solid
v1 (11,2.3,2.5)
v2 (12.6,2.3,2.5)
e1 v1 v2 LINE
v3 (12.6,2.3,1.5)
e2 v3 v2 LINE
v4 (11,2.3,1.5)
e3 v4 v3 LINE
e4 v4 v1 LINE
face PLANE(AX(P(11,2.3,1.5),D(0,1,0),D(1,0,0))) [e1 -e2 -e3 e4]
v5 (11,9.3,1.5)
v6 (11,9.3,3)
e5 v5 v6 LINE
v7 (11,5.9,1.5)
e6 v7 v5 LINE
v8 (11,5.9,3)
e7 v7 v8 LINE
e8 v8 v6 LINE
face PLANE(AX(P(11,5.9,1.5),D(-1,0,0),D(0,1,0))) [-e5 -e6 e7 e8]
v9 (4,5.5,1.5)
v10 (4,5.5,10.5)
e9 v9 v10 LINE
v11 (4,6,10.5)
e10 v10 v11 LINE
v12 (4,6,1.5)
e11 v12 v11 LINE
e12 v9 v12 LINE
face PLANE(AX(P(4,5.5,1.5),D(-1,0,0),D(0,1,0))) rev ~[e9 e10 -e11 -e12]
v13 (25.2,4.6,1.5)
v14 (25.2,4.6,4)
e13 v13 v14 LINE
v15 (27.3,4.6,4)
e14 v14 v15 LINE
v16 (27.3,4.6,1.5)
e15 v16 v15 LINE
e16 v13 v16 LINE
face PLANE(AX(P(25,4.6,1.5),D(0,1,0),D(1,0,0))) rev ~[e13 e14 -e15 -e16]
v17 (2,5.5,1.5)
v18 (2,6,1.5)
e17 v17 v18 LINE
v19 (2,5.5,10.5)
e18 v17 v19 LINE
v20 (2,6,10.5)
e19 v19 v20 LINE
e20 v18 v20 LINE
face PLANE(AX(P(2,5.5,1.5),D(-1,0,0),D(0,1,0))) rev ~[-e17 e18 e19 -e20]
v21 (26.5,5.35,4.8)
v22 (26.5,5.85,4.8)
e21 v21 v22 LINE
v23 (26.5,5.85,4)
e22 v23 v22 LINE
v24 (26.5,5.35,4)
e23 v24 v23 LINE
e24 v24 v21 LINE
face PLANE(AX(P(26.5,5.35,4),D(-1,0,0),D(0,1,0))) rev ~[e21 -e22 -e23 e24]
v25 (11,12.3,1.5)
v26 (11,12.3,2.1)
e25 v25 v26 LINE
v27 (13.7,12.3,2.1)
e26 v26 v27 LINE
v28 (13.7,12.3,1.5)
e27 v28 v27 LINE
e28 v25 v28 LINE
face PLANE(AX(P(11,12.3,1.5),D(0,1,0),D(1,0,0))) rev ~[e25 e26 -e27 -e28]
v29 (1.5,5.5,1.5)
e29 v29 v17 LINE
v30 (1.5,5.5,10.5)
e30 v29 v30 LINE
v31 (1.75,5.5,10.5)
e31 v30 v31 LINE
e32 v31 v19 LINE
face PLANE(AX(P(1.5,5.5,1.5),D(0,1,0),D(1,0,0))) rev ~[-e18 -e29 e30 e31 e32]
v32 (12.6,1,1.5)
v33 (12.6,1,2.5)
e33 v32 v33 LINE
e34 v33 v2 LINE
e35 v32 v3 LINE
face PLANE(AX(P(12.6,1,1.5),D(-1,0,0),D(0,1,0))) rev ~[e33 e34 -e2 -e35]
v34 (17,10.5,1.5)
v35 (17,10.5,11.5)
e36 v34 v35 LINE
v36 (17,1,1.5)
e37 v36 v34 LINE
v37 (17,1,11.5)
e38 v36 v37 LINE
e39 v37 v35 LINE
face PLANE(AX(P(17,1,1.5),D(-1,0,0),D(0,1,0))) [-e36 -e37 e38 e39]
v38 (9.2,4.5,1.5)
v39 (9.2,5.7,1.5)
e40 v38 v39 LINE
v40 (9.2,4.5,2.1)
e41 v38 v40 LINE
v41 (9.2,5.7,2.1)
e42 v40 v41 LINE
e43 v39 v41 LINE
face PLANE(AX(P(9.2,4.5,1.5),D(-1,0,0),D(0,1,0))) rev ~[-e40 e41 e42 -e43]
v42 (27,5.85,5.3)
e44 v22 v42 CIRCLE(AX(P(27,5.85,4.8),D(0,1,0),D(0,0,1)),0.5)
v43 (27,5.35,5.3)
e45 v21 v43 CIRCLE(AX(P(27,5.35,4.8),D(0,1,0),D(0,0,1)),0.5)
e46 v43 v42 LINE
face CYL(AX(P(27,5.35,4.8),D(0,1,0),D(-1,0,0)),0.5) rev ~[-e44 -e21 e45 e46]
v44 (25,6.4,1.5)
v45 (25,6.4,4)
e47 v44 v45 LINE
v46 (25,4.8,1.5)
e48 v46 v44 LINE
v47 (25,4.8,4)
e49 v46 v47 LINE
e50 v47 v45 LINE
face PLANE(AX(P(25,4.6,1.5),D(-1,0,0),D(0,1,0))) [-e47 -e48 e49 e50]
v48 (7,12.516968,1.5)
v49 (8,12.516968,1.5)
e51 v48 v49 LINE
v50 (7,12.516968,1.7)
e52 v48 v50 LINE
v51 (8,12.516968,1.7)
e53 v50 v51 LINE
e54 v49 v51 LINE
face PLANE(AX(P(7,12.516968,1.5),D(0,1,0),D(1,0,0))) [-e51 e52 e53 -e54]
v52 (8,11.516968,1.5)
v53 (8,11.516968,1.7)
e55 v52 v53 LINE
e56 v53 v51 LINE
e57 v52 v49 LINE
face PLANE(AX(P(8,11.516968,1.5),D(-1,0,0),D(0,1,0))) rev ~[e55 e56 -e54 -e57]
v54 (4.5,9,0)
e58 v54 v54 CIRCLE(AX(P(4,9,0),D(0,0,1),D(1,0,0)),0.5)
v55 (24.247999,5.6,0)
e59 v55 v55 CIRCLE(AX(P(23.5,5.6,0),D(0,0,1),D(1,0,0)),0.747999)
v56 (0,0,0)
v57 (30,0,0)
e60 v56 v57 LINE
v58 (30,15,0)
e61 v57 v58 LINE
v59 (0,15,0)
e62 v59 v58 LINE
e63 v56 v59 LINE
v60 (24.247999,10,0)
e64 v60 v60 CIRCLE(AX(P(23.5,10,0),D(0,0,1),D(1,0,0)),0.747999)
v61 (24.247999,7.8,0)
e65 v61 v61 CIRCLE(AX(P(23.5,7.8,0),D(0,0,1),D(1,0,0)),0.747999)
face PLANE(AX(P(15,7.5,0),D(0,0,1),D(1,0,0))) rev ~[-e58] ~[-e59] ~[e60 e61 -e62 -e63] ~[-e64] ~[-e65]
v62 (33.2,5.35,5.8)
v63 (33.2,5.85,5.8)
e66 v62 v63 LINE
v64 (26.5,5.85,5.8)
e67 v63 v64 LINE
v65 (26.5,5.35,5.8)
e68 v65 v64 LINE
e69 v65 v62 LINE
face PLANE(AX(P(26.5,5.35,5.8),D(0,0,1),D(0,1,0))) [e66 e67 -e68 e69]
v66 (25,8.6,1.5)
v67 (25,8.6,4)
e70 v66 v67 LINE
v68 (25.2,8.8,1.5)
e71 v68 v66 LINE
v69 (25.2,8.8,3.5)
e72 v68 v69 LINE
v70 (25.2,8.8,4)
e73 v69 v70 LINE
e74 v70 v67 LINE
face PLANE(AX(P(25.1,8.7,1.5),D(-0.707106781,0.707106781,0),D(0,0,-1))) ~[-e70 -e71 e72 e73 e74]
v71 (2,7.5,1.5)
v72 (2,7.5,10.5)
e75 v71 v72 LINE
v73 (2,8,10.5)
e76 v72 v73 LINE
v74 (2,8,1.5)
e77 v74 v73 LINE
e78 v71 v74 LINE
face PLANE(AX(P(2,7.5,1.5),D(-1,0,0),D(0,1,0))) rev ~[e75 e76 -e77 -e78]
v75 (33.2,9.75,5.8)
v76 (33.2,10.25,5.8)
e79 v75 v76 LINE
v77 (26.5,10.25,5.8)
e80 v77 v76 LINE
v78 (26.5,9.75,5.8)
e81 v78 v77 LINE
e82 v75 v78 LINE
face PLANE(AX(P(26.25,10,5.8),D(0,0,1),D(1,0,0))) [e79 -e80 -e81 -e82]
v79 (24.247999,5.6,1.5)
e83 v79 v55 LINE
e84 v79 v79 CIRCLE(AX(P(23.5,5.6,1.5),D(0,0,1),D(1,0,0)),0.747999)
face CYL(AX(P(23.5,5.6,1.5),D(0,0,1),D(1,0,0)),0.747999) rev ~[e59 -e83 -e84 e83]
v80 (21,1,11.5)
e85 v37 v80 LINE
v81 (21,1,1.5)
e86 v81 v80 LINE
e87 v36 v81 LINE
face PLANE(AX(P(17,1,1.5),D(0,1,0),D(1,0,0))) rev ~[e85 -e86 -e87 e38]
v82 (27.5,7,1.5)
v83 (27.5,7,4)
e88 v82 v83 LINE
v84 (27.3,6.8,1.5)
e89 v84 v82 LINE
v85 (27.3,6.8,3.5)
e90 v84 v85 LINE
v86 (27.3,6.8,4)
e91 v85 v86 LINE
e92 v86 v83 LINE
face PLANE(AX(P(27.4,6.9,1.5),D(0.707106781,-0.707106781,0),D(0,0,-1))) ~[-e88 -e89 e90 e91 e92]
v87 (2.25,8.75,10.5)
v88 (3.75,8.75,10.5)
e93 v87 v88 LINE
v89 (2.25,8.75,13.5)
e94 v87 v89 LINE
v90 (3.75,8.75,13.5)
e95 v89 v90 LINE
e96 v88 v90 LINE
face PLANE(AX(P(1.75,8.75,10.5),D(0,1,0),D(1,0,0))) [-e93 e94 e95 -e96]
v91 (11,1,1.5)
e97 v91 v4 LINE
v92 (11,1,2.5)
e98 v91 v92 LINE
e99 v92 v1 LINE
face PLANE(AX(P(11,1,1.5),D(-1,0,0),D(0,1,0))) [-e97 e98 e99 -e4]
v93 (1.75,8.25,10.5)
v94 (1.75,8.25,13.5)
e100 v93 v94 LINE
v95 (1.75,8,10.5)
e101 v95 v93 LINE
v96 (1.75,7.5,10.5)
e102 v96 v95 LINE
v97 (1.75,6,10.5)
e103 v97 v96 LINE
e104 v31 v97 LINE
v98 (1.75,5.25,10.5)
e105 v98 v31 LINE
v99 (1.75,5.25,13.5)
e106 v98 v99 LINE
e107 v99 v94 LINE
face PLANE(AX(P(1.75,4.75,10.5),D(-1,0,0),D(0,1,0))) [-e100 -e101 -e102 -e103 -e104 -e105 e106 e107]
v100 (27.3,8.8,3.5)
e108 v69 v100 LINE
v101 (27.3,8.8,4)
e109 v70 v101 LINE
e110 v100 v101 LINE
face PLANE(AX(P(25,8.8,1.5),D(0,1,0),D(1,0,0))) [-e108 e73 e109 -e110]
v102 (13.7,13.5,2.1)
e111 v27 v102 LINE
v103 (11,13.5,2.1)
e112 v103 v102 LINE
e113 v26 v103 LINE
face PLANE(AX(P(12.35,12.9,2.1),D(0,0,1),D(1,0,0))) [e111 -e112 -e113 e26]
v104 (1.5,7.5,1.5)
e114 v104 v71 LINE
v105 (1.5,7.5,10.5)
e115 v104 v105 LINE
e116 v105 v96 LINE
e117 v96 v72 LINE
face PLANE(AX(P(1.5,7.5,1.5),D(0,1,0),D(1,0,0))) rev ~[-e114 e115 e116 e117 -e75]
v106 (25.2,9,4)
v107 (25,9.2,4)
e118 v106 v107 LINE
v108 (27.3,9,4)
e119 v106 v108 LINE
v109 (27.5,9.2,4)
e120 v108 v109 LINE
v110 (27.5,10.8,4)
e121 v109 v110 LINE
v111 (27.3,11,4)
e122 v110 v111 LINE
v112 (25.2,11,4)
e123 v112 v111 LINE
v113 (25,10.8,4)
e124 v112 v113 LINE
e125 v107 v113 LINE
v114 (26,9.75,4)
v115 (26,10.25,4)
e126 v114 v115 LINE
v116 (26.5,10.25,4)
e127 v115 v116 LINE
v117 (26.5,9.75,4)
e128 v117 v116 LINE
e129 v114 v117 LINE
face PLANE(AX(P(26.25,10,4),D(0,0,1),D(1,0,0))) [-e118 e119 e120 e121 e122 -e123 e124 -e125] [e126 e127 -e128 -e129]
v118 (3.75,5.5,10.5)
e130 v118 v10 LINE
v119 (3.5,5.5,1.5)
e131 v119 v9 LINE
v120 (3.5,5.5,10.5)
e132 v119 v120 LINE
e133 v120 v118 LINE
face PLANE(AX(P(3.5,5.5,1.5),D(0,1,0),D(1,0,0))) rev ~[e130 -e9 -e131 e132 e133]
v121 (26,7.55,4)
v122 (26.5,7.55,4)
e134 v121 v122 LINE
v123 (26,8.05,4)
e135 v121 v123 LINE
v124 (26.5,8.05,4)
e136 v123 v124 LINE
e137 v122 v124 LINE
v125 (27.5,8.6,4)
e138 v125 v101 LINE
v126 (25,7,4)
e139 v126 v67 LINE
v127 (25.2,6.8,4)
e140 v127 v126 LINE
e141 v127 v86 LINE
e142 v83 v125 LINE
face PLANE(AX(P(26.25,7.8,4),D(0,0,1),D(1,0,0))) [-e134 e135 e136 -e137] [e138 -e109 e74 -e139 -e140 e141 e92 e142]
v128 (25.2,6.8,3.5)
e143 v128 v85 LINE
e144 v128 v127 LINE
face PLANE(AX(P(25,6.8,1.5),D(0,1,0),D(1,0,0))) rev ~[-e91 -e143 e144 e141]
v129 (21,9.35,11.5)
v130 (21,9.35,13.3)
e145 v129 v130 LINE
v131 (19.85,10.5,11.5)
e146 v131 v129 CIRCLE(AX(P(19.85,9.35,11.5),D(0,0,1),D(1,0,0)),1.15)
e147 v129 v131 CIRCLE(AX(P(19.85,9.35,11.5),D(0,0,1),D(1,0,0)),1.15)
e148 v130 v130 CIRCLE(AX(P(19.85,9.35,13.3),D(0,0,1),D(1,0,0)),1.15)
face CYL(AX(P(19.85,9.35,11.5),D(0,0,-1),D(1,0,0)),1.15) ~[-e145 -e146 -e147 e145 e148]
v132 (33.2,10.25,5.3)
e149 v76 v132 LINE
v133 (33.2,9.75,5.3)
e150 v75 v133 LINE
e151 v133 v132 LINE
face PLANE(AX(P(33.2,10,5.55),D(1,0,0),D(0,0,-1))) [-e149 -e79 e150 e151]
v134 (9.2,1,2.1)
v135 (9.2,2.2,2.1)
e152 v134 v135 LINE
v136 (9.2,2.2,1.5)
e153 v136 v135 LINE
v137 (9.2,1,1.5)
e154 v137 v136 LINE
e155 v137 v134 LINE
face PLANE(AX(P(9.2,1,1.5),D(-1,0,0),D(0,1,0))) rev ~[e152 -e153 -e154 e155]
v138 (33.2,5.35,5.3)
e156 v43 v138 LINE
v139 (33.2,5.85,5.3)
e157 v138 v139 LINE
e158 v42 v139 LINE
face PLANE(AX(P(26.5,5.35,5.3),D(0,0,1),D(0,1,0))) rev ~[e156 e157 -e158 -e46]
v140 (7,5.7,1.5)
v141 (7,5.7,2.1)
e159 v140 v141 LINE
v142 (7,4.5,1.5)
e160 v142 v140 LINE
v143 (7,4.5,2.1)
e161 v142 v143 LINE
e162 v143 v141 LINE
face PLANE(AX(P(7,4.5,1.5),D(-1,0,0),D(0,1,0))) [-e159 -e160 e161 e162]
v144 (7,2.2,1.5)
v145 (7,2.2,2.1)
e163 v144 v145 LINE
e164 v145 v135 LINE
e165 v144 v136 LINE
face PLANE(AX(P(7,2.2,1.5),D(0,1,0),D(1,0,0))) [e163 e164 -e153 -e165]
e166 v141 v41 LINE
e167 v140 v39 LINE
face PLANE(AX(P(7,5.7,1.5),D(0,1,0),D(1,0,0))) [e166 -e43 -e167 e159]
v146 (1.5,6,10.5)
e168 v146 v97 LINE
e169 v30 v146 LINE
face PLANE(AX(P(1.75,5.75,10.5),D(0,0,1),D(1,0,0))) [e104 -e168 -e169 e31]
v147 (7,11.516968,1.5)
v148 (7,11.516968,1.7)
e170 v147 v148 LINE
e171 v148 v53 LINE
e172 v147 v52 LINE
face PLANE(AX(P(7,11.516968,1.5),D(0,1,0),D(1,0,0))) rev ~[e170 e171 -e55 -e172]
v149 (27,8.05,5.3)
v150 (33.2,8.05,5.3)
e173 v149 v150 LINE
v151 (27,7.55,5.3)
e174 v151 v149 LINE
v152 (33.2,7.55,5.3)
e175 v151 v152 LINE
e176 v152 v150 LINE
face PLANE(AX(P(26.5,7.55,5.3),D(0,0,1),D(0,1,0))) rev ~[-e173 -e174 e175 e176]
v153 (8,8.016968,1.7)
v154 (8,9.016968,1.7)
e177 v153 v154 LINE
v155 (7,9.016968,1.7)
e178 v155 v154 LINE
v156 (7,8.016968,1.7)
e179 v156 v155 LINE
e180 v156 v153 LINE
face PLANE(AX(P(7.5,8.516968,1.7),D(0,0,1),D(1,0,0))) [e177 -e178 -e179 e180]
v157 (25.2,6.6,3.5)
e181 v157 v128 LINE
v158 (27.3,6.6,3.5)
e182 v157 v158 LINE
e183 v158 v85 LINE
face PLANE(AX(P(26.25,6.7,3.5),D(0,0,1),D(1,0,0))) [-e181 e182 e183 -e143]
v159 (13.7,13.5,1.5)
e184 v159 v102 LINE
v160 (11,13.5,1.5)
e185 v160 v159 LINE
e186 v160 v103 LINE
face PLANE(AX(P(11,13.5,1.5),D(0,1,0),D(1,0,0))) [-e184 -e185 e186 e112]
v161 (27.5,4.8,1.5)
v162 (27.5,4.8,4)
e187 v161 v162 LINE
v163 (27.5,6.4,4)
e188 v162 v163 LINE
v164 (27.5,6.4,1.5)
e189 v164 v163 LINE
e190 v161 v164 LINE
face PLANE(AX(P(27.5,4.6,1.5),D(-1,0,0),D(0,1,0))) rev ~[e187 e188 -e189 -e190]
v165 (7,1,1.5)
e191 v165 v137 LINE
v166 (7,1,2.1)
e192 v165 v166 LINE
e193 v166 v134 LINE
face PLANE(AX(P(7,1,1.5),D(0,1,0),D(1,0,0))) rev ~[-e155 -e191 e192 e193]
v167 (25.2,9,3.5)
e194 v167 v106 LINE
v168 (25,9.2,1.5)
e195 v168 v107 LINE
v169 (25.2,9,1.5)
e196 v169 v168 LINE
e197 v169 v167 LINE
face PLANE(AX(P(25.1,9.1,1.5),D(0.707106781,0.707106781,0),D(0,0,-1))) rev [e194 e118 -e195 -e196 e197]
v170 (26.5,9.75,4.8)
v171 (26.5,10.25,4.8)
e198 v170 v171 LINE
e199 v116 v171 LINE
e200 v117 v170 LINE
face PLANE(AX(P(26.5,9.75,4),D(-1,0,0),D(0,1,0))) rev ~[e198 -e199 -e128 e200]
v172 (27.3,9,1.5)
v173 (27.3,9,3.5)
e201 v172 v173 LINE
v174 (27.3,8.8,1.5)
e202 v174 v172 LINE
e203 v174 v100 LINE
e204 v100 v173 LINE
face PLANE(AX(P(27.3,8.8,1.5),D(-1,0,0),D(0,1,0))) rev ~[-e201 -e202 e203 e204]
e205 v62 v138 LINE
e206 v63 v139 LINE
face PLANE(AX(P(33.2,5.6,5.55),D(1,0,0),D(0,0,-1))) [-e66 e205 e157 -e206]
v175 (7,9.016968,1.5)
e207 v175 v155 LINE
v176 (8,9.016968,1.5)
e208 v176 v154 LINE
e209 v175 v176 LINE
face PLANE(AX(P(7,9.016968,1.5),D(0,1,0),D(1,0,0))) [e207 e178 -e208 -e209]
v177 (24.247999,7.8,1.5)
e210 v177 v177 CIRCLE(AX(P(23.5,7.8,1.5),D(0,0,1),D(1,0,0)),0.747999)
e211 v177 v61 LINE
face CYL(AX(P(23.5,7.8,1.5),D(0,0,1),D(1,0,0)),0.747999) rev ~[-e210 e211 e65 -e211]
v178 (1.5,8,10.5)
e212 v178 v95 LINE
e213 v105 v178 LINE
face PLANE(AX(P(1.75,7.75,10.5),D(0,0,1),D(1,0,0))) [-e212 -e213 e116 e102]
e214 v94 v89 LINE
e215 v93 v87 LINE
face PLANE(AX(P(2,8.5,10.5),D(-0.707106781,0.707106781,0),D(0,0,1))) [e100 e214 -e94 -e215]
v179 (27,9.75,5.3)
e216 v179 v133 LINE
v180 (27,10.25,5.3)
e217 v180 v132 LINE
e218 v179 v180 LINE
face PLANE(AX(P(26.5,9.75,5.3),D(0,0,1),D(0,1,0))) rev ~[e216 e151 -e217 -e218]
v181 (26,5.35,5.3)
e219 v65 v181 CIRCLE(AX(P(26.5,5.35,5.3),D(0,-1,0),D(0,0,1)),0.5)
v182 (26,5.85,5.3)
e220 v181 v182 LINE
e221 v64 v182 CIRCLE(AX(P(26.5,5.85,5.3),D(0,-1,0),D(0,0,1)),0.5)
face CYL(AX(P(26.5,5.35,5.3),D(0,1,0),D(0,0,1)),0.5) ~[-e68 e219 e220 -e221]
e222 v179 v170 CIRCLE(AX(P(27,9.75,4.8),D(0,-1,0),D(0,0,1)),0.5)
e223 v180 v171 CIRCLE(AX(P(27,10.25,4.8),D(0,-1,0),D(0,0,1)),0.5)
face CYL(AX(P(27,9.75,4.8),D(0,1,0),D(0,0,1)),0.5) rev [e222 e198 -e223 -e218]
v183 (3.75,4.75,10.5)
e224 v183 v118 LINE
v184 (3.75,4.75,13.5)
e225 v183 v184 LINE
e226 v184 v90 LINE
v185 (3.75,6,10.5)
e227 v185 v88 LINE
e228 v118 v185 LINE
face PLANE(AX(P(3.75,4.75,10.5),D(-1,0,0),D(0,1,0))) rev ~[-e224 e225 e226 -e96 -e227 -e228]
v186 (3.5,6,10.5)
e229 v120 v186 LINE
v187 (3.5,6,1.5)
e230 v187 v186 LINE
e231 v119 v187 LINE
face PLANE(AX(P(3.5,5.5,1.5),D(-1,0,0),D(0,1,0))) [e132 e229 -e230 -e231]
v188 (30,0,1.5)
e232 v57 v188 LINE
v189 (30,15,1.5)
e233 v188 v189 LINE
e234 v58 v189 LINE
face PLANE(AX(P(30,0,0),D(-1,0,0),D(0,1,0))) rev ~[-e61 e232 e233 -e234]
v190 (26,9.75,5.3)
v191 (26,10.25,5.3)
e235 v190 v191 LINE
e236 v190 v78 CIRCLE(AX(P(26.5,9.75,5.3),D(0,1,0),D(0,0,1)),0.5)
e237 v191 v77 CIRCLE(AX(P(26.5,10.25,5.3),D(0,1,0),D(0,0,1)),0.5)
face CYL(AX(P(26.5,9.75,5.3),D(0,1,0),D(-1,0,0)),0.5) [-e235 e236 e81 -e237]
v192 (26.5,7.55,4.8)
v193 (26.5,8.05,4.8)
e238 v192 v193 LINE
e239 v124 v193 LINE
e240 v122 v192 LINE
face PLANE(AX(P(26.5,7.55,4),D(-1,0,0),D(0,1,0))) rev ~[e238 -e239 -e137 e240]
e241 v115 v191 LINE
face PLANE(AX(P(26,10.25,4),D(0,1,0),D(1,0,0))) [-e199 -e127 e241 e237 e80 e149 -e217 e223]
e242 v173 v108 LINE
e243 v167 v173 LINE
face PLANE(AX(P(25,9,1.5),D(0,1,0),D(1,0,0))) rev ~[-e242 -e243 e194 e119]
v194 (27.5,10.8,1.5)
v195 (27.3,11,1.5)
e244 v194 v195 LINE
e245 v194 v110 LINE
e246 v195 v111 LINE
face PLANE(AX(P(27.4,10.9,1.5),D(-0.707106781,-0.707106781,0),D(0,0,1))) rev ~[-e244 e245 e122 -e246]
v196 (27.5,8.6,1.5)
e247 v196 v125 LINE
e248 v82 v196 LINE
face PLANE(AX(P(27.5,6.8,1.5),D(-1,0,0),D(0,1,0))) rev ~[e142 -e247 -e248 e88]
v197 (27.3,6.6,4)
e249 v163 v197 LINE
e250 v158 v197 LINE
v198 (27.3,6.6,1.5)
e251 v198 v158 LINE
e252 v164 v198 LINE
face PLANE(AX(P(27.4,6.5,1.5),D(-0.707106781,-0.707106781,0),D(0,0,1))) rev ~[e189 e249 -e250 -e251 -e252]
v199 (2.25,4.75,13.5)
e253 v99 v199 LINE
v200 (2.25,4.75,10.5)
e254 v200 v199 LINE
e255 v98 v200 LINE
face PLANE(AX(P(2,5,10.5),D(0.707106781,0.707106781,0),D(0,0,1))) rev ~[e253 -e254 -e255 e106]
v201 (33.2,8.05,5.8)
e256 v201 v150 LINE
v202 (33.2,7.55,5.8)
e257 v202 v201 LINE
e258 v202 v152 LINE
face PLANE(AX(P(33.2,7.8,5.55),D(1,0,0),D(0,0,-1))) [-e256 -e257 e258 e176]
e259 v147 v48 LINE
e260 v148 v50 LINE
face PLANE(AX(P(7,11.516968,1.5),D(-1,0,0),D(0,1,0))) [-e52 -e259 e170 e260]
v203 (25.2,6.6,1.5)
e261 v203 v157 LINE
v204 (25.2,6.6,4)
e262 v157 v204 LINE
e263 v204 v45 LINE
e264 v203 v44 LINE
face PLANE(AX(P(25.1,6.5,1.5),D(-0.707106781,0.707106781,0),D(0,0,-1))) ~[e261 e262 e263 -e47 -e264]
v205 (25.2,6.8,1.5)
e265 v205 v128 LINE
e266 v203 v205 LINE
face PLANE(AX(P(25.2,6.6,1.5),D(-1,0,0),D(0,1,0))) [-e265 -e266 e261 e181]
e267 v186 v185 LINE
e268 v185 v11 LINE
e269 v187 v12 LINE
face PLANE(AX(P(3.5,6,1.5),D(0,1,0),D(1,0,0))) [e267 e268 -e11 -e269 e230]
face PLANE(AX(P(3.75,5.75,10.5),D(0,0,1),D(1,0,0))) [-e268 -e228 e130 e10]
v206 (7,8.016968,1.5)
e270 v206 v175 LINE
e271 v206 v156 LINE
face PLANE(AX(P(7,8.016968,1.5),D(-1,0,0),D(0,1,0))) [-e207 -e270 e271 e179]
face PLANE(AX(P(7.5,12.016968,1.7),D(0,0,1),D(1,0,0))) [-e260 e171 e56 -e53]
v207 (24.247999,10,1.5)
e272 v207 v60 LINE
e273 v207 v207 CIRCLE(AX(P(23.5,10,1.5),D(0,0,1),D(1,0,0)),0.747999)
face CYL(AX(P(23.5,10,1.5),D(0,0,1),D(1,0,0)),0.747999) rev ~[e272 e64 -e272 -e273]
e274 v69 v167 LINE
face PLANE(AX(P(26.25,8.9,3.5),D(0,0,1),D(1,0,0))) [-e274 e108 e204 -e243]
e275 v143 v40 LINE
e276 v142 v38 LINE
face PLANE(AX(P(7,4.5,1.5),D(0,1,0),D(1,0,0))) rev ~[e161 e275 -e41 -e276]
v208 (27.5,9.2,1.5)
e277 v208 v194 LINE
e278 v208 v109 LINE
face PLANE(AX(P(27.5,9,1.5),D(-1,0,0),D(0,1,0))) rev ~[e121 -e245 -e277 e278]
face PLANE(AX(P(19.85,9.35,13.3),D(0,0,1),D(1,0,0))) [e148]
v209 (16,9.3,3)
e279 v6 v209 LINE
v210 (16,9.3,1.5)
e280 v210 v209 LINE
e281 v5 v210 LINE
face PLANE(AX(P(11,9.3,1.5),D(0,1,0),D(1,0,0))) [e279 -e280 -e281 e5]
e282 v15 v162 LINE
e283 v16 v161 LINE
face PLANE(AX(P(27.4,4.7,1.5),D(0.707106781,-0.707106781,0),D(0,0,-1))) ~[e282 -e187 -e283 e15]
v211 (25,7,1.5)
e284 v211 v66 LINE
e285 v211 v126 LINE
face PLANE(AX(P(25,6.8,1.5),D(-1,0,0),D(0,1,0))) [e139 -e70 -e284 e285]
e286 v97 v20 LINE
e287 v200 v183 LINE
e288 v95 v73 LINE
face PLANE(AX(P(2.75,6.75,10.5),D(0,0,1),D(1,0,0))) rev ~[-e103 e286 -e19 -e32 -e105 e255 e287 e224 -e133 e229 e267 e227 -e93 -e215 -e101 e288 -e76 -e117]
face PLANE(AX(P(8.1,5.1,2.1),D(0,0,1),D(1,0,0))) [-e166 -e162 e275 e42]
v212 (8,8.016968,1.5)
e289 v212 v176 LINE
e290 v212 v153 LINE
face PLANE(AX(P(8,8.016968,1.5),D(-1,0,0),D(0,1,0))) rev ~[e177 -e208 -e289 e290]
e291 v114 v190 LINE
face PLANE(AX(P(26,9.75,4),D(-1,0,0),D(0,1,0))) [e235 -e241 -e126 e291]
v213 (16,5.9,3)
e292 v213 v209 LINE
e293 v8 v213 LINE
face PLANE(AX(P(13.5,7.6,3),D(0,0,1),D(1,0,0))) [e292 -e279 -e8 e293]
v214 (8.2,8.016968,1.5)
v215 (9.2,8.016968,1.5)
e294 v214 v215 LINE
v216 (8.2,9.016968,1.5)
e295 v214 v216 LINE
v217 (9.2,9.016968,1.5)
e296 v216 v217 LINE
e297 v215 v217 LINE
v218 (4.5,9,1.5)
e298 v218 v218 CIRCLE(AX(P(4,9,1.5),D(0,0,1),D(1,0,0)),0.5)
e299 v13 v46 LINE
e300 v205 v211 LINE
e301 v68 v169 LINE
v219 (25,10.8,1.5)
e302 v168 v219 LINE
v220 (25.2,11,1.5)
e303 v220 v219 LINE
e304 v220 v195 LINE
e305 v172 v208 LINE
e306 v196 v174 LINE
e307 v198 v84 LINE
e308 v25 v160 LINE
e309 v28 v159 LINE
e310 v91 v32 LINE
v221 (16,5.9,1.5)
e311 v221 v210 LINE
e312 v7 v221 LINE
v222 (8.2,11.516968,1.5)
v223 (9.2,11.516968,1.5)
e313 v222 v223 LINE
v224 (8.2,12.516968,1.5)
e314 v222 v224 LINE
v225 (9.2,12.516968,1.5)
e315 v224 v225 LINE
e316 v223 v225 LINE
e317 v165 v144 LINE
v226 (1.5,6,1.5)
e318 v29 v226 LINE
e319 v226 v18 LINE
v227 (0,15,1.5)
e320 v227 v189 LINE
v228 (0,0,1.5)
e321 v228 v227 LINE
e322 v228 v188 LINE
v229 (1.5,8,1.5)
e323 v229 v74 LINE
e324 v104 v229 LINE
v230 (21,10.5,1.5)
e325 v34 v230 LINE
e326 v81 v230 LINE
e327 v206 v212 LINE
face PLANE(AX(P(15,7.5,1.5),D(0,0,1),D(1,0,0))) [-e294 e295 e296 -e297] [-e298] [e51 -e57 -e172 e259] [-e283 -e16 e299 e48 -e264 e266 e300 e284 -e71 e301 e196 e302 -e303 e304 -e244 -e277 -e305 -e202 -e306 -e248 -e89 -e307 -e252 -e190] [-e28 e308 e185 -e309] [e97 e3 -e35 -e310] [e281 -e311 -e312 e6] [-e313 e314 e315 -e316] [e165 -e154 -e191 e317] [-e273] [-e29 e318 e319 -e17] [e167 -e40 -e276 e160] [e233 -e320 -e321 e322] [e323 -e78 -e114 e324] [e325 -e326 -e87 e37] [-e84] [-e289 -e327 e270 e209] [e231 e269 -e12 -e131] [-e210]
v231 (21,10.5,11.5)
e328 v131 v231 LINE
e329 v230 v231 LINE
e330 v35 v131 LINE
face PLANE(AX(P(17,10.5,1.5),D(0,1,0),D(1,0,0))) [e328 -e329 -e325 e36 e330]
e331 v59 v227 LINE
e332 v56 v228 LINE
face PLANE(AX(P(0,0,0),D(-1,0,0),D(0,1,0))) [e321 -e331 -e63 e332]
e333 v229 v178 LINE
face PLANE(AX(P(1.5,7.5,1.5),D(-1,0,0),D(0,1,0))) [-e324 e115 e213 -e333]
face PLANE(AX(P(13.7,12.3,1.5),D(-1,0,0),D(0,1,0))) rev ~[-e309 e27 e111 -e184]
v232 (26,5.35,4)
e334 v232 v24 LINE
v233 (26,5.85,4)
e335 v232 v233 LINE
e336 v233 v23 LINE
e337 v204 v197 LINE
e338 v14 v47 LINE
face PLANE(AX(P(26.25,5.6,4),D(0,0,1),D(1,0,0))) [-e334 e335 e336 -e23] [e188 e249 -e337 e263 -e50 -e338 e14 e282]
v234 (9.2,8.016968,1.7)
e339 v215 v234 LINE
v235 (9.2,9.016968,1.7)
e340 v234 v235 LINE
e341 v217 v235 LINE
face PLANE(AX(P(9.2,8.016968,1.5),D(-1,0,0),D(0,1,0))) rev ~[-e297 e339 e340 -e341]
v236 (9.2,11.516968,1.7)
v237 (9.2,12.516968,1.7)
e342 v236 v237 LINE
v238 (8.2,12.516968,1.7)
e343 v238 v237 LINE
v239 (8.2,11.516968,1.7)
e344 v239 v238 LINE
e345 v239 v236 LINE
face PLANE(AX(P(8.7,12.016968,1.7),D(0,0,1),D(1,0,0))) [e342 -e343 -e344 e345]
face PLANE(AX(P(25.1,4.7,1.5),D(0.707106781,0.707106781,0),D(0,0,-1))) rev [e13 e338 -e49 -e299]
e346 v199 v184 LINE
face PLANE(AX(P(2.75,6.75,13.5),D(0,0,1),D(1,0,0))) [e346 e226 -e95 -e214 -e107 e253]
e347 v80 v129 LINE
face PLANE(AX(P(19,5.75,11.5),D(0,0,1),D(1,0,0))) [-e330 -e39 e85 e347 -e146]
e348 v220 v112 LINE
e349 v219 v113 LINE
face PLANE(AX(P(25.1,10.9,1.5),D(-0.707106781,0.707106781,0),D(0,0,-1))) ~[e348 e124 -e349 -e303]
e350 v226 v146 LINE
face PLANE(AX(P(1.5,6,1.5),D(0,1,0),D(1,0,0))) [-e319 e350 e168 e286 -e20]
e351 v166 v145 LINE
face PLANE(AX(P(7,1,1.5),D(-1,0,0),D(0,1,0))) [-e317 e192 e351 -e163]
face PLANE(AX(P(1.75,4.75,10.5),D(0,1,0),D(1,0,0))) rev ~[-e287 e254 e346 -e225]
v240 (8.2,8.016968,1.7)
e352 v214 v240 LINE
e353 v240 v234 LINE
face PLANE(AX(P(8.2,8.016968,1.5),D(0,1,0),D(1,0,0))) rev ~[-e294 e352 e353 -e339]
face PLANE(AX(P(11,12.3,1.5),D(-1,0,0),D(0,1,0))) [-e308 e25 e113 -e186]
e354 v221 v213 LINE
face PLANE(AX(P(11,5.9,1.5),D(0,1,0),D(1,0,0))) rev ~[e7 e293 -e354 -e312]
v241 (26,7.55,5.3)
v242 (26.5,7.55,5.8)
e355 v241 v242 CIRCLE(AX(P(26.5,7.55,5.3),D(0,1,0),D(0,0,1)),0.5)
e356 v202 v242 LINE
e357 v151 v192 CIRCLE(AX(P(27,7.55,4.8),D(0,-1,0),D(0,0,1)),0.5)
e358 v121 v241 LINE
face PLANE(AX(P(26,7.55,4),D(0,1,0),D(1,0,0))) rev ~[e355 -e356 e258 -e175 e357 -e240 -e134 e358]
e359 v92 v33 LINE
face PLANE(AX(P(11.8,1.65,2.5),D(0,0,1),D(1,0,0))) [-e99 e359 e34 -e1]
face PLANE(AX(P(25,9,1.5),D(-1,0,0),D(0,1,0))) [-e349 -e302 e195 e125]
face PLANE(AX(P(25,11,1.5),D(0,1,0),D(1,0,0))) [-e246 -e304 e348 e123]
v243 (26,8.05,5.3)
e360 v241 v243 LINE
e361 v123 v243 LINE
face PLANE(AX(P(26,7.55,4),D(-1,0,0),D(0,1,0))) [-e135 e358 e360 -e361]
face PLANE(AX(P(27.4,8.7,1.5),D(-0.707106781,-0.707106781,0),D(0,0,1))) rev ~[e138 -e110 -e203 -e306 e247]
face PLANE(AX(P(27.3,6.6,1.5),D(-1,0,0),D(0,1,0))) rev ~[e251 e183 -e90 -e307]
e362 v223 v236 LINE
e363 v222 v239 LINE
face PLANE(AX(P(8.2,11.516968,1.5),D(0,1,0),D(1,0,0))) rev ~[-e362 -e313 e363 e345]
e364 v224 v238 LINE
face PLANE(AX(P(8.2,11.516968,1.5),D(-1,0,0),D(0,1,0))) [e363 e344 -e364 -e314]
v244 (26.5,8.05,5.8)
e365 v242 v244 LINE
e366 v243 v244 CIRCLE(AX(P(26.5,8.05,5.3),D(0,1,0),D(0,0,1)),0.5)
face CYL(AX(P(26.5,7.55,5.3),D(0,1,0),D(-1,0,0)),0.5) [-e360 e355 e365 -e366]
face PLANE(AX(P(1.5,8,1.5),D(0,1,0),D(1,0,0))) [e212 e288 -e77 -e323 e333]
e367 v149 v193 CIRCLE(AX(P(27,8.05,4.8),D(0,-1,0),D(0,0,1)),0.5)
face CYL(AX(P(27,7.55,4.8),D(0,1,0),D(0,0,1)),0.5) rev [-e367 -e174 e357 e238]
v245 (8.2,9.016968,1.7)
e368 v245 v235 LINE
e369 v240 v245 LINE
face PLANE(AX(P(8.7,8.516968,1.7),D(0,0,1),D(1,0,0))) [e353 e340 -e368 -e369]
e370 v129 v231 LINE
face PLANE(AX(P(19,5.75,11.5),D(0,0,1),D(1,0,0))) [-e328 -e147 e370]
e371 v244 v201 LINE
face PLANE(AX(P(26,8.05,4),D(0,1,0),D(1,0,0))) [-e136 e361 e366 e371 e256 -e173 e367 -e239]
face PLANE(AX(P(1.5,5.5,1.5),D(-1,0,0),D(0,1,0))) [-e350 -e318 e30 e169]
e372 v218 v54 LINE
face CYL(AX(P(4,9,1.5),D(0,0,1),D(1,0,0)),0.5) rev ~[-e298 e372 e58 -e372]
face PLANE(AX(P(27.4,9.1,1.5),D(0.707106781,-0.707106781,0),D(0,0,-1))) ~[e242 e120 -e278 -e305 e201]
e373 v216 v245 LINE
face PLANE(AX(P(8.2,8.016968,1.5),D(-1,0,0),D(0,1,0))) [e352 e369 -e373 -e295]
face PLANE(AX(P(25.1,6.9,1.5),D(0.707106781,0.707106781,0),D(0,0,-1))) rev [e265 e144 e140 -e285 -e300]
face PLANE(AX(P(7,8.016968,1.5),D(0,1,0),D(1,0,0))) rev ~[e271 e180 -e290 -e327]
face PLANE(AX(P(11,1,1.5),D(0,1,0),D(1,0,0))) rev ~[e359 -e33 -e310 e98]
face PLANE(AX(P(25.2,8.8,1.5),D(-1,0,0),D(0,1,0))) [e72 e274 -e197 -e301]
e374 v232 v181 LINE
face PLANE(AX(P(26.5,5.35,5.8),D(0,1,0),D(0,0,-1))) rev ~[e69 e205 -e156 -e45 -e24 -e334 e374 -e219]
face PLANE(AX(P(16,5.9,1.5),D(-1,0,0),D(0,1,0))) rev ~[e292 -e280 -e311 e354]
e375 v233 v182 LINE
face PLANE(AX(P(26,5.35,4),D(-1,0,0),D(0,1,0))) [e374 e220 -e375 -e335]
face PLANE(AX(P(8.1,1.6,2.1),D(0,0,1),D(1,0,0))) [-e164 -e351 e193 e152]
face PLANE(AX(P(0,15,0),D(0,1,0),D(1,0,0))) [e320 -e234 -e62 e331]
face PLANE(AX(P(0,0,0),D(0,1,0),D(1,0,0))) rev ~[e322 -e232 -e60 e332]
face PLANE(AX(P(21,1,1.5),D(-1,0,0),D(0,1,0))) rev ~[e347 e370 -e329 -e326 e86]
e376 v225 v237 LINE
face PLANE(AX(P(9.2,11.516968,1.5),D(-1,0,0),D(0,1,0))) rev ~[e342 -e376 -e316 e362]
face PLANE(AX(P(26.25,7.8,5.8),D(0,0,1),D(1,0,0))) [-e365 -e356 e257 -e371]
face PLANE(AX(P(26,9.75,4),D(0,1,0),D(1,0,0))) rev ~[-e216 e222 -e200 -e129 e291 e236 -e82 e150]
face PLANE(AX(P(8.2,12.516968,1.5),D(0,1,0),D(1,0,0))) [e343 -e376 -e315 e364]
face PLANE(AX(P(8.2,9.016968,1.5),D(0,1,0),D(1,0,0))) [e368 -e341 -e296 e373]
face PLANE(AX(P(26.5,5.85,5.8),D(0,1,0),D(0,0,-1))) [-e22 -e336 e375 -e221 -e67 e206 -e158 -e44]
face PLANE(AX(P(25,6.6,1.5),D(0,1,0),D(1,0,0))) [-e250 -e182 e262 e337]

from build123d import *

# Parameters (mm, degrees)
SKETCH_1_W          = 30
SKETCH_1_H          = 15
EXTRUDE_1_DEPTH     = 1.5
SKETCH_2_W          = 4
SKETCH_2_H          = 9.5
EXTRUDE_2_DEPTH     = 10
SKETCH_3_R          = 1.15
EXTRUDE_3_DEPTH     = 1.8
SKETCH_5_W          = 2.5
SKETCH_5_H          = 2
EXTRUDE_4_DEPTH     = 2.5
CHAMFER_1_SIZE      = 0.2
SKETCH_6_W          = 2.1
SKETCH_6_H          = 0.2
EXTRUDE_5_DEPTH     = 2
SKETCH_7_W          = 0.5
SKETCH_7_H          = 0.5
EXTRUDE_6_DEPTH     = 1.8
SKETCH_8_W          = 0.5
SKETCH_8_H          = 0.5
EXTRUDE_7_DEPTH     = 6.7
FILLET_1_R          = 0.5
SKETCH_10_R         = 0.747999162
CUT_EXTRUDE_1_DEPTH = 39.294647146
SKETCH_11_W         = 5
SKETCH_11_H         = 3.4
EXTRUDE_8_DEPTH     = 1.5
SKETCH_12_W         = 2.7
SKETCH_12_H         = 1.2
EXTRUDE_9_DEPTH     = 0.6
SKETCH_13_W         = 1.6
SKETCH_13_H         = 1.3
EXTRUDE_10_DEPTH    = 1
SKETCH_14_W         = 1
SKETCH_14_H         = 1
EXTRUDE_11_DEPTH    = 0.2
SKETCH_15_W         = 2.2
SKETCH_15_H         = 1.2
EXTRUDE_12_DEPTH    = 0.6
SKETCH_17_R         = 0.5
CUT_EXTRUDE_2_DEPTH = 39.294647146
SKETCH_18_W         = 0.5
SKETCH_18_H         = 0.5
EXTRUDE_13_DEPTH    = 9
SKETCH_20_W         = 2
SKETCH_20_H         = 4
EXTRUDE_14_DEPTH    = 3
CHAMFER_2_SIZE      = 0.5


with BuildPart() as part:
    # 草图1 → 凸台-拉伸1 (new body)
    with BuildSketch(Plane.XY):
        with Locations((15, 7.5)):
            Rectangle(SKETCH_1_W, SKETCH_1_H)
    extrude(amount=EXTRUDE_1_DEPTH)

    # 草图2 → 凸台-拉伸2 (add)
    with BuildSketch(Plane.XY.offset(1.5)):
        with Locations((19, 5.75)):
            Rectangle(SKETCH_2_W, SKETCH_2_H)
    extrude(amount=EXTRUDE_2_DEPTH)

    # 草图3 → 凸台-拉伸3 (add)
    with BuildSketch(Plane.XY.offset(11.5)):
        with Locations((19.85, 9.35)):
            Circle(SKETCH_3_R)
    extrude(amount=EXTRUDE_3_DEPTH)

    # 草图5 → 凸台-拉伸4 (add)
    with BuildSketch(Plane.XY.offset(1.5)):
        with Locations((26.25, 10)):
            Rectangle(SKETCH_5_W, SKETCH_5_H)
        with Locations((26.25, 7.8)):
            Rectangle(SKETCH_5_W, SKETCH_5_H)
        with Locations((26.25, 5.6)):
            Rectangle(SKETCH_5_W, SKETCH_5_H)
    extrude(amount=EXTRUDE_4_DEPTH)

    # 倒角1
    chamfer_1_edges = [part.edges().sort_by_distance(p)[0] for p in [
        (25, 11, 2.75),
        (25, 9, 2.75),
        (27.5, 9, 2.75),
        (27.5, 11, 2.75),
        (27.5, 8.8, 2.75),
        (25, 8.8, 2.75),
        (25, 6.8, 2.75),
        (27.5, 6.8, 2.75),
        (27.5, 6.6, 2.75),
        (25, 6.6, 2.75),
        (25, 4.6, 2.75),
        (27.5, 4.6, 2.75),
    ]]
    chamfer(chamfer_1_edges, length=CHAMFER_1_SIZE)

    # 草图6 → 凸台-拉伸5 (add)
    with BuildSketch(Plane.XY.offset(1.5)):
        with Locations((26.25, 8.9)):
            Rectangle(SKETCH_6_W, SKETCH_6_H)
        with Locations((26.25, 6.7)):
            Rectangle(SKETCH_6_W, SKETCH_6_H)
    extrude(amount=EXTRUDE_5_DEPTH)

    # 草图7 → 凸台-拉伸6 (add)
    with BuildSketch(Plane.XY.offset(4)):
        with Locations((26.25, 5.6)):
            Rectangle(SKETCH_7_W, SKETCH_7_H)
        with Locations((26.25, 7.8)):
            Rectangle(SKETCH_7_W, SKETCH_7_H)
        with Locations((26.25, 10)):
            Rectangle(SKETCH_7_W, SKETCH_7_H)
    extrude(amount=EXTRUDE_6_DEPTH)

    # 草图8 → 凸台-拉伸7 (add)
    with BuildSketch(Plane(origin=(26.5, 0, 0), x_dir=(0, 0, -1), z_dir=(1, 0, 0))):
        with Locations((-5.55, 5.6)):
            Rectangle(SKETCH_8_W, SKETCH_8_H)
        with Locations((-5.55, 7.8)):
            Rectangle(SKETCH_8_W, SKETCH_8_H)
        with Locations((-5.55, 10)):
            Rectangle(SKETCH_8_W, SKETCH_8_H)
    extrude(amount=EXTRUDE_7_DEPTH)

    # 圆角1
    fillet_1_edges = [part.edges().sort_by_distance(p)[0] for p in [
        (26, 5.6, 5.8),
        (26, 7.8, 5.8),
        (26, 10, 5.8),
        (26.5, 5.6, 5.3),
        (26.5, 7.8, 5.3),
        (26.5, 10, 5.3),
    ]]
    fillet(fillet_1_edges, radius=FILLET_1_R)

    # 草图10 → 切除-拉伸1 (cut, through all)
    with BuildSketch(Plane.XY.offset(1.5)):
        with Locations((23.5, 10)):
            Circle(SKETCH_10_R)
        with Locations((23.5, 7.8)):
            Circle(SKETCH_10_R)
        with Locations((23.5, 5.6)):
            Circle(SKETCH_10_R)
    extrude(amount=-CUT_EXTRUDE_1_DEPTH, mode=Mode.SUBTRACT)

    # 草图11 → 凸台-拉伸8 (add)
    with BuildSketch(Plane.XY.offset(1.5)):
        with Locations((13.5, 7.6)):
            Rectangle(SKETCH_11_W, SKETCH_11_H)
    extrude(amount=EXTRUDE_8_DEPTH)

    # 草图12 → 凸台-拉伸9 (add)
    with BuildSketch(Plane.XY.offset(1.5)):
        with Locations((12.35, 12.9)):
            Rectangle(SKETCH_12_W, SKETCH_12_H)
    extrude(amount=EXTRUDE_9_DEPTH)

    # 草图13 → 凸台-拉伸10 (add)
    with BuildSketch(Plane.XY.offset(1.5)):
        with Locations((11.8, 1.65)):
            Rectangle(SKETCH_13_W, SKETCH_13_H)
    extrude(amount=EXTRUDE_10_DEPTH)

    # 草图14 → 凸台-拉伸11 (add)
    with BuildSketch(Plane.XY.offset(1.5)):
        with Locations((7.5, 12.016968403)):
            Rectangle(SKETCH_14_W, SKETCH_14_H)
        with Locations((8.7, 12.016968403)):
            Rectangle(SKETCH_14_W, SKETCH_14_H)
        with Locations((8.7, 8.516968403)):
            Rectangle(SKETCH_14_W, SKETCH_14_H)
        with Locations((7.5, 8.516968403)):
            Rectangle(SKETCH_14_W, SKETCH_14_H)
    extrude(amount=EXTRUDE_11_DEPTH)

    # 草图15 → 凸台-拉伸12 (add)
    with BuildSketch(Plane.XY.offset(1.5)):
        with Locations((8.1, 5.1)):
            Rectangle(SKETCH_15_W, SKETCH_15_H)
        with Locations((8.1, 1.6)):
            Rectangle(SKETCH_15_W, SKETCH_15_H)
    extrude(amount=EXTRUDE_12_DEPTH)

    # 草图17 → 切除-拉伸2 (cut, through all)
    with BuildSketch(Plane.XY.offset(1.5)):
        with Locations((4, 9)):
            Circle(SKETCH_17_R)
    extrude(amount=-CUT_EXTRUDE_2_DEPTH, mode=Mode.SUBTRACT)

    # 草图18 → 凸台-拉伸13 (add)
    with BuildSketch(Plane.XY.offset(1.5)):
        with Locations((3.75, 5.75)):
            Rectangle(SKETCH_18_W, SKETCH_18_H)
        with Locations((1.75, 7.75)):
            Rectangle(SKETCH_18_W, SKETCH_18_H)
        with Locations((1.75, 5.75)):
            Rectangle(SKETCH_18_W, SKETCH_18_H)
    extrude(amount=EXTRUDE_13_DEPTH)

    # 草图20 → 凸台-拉伸14 (add)
    with BuildSketch(Plane.XY.offset(10.5)):
        with Locations((2.75, 6.75)):
            Rectangle(SKETCH_20_W, SKETCH_20_H)
    extrude(amount=EXTRUDE_14_DEPTH)

    # 倒角2
    chamfer_2_edges = [part.edges().sort_by_distance(p)[0] for p in [
        (1.75, 8.75, 12),
        (1.75, 4.75, 12),
    ]]
    chamfer(chamfer_2_edges, length=CHAMFER_2_SIZE)


solid = part.part
